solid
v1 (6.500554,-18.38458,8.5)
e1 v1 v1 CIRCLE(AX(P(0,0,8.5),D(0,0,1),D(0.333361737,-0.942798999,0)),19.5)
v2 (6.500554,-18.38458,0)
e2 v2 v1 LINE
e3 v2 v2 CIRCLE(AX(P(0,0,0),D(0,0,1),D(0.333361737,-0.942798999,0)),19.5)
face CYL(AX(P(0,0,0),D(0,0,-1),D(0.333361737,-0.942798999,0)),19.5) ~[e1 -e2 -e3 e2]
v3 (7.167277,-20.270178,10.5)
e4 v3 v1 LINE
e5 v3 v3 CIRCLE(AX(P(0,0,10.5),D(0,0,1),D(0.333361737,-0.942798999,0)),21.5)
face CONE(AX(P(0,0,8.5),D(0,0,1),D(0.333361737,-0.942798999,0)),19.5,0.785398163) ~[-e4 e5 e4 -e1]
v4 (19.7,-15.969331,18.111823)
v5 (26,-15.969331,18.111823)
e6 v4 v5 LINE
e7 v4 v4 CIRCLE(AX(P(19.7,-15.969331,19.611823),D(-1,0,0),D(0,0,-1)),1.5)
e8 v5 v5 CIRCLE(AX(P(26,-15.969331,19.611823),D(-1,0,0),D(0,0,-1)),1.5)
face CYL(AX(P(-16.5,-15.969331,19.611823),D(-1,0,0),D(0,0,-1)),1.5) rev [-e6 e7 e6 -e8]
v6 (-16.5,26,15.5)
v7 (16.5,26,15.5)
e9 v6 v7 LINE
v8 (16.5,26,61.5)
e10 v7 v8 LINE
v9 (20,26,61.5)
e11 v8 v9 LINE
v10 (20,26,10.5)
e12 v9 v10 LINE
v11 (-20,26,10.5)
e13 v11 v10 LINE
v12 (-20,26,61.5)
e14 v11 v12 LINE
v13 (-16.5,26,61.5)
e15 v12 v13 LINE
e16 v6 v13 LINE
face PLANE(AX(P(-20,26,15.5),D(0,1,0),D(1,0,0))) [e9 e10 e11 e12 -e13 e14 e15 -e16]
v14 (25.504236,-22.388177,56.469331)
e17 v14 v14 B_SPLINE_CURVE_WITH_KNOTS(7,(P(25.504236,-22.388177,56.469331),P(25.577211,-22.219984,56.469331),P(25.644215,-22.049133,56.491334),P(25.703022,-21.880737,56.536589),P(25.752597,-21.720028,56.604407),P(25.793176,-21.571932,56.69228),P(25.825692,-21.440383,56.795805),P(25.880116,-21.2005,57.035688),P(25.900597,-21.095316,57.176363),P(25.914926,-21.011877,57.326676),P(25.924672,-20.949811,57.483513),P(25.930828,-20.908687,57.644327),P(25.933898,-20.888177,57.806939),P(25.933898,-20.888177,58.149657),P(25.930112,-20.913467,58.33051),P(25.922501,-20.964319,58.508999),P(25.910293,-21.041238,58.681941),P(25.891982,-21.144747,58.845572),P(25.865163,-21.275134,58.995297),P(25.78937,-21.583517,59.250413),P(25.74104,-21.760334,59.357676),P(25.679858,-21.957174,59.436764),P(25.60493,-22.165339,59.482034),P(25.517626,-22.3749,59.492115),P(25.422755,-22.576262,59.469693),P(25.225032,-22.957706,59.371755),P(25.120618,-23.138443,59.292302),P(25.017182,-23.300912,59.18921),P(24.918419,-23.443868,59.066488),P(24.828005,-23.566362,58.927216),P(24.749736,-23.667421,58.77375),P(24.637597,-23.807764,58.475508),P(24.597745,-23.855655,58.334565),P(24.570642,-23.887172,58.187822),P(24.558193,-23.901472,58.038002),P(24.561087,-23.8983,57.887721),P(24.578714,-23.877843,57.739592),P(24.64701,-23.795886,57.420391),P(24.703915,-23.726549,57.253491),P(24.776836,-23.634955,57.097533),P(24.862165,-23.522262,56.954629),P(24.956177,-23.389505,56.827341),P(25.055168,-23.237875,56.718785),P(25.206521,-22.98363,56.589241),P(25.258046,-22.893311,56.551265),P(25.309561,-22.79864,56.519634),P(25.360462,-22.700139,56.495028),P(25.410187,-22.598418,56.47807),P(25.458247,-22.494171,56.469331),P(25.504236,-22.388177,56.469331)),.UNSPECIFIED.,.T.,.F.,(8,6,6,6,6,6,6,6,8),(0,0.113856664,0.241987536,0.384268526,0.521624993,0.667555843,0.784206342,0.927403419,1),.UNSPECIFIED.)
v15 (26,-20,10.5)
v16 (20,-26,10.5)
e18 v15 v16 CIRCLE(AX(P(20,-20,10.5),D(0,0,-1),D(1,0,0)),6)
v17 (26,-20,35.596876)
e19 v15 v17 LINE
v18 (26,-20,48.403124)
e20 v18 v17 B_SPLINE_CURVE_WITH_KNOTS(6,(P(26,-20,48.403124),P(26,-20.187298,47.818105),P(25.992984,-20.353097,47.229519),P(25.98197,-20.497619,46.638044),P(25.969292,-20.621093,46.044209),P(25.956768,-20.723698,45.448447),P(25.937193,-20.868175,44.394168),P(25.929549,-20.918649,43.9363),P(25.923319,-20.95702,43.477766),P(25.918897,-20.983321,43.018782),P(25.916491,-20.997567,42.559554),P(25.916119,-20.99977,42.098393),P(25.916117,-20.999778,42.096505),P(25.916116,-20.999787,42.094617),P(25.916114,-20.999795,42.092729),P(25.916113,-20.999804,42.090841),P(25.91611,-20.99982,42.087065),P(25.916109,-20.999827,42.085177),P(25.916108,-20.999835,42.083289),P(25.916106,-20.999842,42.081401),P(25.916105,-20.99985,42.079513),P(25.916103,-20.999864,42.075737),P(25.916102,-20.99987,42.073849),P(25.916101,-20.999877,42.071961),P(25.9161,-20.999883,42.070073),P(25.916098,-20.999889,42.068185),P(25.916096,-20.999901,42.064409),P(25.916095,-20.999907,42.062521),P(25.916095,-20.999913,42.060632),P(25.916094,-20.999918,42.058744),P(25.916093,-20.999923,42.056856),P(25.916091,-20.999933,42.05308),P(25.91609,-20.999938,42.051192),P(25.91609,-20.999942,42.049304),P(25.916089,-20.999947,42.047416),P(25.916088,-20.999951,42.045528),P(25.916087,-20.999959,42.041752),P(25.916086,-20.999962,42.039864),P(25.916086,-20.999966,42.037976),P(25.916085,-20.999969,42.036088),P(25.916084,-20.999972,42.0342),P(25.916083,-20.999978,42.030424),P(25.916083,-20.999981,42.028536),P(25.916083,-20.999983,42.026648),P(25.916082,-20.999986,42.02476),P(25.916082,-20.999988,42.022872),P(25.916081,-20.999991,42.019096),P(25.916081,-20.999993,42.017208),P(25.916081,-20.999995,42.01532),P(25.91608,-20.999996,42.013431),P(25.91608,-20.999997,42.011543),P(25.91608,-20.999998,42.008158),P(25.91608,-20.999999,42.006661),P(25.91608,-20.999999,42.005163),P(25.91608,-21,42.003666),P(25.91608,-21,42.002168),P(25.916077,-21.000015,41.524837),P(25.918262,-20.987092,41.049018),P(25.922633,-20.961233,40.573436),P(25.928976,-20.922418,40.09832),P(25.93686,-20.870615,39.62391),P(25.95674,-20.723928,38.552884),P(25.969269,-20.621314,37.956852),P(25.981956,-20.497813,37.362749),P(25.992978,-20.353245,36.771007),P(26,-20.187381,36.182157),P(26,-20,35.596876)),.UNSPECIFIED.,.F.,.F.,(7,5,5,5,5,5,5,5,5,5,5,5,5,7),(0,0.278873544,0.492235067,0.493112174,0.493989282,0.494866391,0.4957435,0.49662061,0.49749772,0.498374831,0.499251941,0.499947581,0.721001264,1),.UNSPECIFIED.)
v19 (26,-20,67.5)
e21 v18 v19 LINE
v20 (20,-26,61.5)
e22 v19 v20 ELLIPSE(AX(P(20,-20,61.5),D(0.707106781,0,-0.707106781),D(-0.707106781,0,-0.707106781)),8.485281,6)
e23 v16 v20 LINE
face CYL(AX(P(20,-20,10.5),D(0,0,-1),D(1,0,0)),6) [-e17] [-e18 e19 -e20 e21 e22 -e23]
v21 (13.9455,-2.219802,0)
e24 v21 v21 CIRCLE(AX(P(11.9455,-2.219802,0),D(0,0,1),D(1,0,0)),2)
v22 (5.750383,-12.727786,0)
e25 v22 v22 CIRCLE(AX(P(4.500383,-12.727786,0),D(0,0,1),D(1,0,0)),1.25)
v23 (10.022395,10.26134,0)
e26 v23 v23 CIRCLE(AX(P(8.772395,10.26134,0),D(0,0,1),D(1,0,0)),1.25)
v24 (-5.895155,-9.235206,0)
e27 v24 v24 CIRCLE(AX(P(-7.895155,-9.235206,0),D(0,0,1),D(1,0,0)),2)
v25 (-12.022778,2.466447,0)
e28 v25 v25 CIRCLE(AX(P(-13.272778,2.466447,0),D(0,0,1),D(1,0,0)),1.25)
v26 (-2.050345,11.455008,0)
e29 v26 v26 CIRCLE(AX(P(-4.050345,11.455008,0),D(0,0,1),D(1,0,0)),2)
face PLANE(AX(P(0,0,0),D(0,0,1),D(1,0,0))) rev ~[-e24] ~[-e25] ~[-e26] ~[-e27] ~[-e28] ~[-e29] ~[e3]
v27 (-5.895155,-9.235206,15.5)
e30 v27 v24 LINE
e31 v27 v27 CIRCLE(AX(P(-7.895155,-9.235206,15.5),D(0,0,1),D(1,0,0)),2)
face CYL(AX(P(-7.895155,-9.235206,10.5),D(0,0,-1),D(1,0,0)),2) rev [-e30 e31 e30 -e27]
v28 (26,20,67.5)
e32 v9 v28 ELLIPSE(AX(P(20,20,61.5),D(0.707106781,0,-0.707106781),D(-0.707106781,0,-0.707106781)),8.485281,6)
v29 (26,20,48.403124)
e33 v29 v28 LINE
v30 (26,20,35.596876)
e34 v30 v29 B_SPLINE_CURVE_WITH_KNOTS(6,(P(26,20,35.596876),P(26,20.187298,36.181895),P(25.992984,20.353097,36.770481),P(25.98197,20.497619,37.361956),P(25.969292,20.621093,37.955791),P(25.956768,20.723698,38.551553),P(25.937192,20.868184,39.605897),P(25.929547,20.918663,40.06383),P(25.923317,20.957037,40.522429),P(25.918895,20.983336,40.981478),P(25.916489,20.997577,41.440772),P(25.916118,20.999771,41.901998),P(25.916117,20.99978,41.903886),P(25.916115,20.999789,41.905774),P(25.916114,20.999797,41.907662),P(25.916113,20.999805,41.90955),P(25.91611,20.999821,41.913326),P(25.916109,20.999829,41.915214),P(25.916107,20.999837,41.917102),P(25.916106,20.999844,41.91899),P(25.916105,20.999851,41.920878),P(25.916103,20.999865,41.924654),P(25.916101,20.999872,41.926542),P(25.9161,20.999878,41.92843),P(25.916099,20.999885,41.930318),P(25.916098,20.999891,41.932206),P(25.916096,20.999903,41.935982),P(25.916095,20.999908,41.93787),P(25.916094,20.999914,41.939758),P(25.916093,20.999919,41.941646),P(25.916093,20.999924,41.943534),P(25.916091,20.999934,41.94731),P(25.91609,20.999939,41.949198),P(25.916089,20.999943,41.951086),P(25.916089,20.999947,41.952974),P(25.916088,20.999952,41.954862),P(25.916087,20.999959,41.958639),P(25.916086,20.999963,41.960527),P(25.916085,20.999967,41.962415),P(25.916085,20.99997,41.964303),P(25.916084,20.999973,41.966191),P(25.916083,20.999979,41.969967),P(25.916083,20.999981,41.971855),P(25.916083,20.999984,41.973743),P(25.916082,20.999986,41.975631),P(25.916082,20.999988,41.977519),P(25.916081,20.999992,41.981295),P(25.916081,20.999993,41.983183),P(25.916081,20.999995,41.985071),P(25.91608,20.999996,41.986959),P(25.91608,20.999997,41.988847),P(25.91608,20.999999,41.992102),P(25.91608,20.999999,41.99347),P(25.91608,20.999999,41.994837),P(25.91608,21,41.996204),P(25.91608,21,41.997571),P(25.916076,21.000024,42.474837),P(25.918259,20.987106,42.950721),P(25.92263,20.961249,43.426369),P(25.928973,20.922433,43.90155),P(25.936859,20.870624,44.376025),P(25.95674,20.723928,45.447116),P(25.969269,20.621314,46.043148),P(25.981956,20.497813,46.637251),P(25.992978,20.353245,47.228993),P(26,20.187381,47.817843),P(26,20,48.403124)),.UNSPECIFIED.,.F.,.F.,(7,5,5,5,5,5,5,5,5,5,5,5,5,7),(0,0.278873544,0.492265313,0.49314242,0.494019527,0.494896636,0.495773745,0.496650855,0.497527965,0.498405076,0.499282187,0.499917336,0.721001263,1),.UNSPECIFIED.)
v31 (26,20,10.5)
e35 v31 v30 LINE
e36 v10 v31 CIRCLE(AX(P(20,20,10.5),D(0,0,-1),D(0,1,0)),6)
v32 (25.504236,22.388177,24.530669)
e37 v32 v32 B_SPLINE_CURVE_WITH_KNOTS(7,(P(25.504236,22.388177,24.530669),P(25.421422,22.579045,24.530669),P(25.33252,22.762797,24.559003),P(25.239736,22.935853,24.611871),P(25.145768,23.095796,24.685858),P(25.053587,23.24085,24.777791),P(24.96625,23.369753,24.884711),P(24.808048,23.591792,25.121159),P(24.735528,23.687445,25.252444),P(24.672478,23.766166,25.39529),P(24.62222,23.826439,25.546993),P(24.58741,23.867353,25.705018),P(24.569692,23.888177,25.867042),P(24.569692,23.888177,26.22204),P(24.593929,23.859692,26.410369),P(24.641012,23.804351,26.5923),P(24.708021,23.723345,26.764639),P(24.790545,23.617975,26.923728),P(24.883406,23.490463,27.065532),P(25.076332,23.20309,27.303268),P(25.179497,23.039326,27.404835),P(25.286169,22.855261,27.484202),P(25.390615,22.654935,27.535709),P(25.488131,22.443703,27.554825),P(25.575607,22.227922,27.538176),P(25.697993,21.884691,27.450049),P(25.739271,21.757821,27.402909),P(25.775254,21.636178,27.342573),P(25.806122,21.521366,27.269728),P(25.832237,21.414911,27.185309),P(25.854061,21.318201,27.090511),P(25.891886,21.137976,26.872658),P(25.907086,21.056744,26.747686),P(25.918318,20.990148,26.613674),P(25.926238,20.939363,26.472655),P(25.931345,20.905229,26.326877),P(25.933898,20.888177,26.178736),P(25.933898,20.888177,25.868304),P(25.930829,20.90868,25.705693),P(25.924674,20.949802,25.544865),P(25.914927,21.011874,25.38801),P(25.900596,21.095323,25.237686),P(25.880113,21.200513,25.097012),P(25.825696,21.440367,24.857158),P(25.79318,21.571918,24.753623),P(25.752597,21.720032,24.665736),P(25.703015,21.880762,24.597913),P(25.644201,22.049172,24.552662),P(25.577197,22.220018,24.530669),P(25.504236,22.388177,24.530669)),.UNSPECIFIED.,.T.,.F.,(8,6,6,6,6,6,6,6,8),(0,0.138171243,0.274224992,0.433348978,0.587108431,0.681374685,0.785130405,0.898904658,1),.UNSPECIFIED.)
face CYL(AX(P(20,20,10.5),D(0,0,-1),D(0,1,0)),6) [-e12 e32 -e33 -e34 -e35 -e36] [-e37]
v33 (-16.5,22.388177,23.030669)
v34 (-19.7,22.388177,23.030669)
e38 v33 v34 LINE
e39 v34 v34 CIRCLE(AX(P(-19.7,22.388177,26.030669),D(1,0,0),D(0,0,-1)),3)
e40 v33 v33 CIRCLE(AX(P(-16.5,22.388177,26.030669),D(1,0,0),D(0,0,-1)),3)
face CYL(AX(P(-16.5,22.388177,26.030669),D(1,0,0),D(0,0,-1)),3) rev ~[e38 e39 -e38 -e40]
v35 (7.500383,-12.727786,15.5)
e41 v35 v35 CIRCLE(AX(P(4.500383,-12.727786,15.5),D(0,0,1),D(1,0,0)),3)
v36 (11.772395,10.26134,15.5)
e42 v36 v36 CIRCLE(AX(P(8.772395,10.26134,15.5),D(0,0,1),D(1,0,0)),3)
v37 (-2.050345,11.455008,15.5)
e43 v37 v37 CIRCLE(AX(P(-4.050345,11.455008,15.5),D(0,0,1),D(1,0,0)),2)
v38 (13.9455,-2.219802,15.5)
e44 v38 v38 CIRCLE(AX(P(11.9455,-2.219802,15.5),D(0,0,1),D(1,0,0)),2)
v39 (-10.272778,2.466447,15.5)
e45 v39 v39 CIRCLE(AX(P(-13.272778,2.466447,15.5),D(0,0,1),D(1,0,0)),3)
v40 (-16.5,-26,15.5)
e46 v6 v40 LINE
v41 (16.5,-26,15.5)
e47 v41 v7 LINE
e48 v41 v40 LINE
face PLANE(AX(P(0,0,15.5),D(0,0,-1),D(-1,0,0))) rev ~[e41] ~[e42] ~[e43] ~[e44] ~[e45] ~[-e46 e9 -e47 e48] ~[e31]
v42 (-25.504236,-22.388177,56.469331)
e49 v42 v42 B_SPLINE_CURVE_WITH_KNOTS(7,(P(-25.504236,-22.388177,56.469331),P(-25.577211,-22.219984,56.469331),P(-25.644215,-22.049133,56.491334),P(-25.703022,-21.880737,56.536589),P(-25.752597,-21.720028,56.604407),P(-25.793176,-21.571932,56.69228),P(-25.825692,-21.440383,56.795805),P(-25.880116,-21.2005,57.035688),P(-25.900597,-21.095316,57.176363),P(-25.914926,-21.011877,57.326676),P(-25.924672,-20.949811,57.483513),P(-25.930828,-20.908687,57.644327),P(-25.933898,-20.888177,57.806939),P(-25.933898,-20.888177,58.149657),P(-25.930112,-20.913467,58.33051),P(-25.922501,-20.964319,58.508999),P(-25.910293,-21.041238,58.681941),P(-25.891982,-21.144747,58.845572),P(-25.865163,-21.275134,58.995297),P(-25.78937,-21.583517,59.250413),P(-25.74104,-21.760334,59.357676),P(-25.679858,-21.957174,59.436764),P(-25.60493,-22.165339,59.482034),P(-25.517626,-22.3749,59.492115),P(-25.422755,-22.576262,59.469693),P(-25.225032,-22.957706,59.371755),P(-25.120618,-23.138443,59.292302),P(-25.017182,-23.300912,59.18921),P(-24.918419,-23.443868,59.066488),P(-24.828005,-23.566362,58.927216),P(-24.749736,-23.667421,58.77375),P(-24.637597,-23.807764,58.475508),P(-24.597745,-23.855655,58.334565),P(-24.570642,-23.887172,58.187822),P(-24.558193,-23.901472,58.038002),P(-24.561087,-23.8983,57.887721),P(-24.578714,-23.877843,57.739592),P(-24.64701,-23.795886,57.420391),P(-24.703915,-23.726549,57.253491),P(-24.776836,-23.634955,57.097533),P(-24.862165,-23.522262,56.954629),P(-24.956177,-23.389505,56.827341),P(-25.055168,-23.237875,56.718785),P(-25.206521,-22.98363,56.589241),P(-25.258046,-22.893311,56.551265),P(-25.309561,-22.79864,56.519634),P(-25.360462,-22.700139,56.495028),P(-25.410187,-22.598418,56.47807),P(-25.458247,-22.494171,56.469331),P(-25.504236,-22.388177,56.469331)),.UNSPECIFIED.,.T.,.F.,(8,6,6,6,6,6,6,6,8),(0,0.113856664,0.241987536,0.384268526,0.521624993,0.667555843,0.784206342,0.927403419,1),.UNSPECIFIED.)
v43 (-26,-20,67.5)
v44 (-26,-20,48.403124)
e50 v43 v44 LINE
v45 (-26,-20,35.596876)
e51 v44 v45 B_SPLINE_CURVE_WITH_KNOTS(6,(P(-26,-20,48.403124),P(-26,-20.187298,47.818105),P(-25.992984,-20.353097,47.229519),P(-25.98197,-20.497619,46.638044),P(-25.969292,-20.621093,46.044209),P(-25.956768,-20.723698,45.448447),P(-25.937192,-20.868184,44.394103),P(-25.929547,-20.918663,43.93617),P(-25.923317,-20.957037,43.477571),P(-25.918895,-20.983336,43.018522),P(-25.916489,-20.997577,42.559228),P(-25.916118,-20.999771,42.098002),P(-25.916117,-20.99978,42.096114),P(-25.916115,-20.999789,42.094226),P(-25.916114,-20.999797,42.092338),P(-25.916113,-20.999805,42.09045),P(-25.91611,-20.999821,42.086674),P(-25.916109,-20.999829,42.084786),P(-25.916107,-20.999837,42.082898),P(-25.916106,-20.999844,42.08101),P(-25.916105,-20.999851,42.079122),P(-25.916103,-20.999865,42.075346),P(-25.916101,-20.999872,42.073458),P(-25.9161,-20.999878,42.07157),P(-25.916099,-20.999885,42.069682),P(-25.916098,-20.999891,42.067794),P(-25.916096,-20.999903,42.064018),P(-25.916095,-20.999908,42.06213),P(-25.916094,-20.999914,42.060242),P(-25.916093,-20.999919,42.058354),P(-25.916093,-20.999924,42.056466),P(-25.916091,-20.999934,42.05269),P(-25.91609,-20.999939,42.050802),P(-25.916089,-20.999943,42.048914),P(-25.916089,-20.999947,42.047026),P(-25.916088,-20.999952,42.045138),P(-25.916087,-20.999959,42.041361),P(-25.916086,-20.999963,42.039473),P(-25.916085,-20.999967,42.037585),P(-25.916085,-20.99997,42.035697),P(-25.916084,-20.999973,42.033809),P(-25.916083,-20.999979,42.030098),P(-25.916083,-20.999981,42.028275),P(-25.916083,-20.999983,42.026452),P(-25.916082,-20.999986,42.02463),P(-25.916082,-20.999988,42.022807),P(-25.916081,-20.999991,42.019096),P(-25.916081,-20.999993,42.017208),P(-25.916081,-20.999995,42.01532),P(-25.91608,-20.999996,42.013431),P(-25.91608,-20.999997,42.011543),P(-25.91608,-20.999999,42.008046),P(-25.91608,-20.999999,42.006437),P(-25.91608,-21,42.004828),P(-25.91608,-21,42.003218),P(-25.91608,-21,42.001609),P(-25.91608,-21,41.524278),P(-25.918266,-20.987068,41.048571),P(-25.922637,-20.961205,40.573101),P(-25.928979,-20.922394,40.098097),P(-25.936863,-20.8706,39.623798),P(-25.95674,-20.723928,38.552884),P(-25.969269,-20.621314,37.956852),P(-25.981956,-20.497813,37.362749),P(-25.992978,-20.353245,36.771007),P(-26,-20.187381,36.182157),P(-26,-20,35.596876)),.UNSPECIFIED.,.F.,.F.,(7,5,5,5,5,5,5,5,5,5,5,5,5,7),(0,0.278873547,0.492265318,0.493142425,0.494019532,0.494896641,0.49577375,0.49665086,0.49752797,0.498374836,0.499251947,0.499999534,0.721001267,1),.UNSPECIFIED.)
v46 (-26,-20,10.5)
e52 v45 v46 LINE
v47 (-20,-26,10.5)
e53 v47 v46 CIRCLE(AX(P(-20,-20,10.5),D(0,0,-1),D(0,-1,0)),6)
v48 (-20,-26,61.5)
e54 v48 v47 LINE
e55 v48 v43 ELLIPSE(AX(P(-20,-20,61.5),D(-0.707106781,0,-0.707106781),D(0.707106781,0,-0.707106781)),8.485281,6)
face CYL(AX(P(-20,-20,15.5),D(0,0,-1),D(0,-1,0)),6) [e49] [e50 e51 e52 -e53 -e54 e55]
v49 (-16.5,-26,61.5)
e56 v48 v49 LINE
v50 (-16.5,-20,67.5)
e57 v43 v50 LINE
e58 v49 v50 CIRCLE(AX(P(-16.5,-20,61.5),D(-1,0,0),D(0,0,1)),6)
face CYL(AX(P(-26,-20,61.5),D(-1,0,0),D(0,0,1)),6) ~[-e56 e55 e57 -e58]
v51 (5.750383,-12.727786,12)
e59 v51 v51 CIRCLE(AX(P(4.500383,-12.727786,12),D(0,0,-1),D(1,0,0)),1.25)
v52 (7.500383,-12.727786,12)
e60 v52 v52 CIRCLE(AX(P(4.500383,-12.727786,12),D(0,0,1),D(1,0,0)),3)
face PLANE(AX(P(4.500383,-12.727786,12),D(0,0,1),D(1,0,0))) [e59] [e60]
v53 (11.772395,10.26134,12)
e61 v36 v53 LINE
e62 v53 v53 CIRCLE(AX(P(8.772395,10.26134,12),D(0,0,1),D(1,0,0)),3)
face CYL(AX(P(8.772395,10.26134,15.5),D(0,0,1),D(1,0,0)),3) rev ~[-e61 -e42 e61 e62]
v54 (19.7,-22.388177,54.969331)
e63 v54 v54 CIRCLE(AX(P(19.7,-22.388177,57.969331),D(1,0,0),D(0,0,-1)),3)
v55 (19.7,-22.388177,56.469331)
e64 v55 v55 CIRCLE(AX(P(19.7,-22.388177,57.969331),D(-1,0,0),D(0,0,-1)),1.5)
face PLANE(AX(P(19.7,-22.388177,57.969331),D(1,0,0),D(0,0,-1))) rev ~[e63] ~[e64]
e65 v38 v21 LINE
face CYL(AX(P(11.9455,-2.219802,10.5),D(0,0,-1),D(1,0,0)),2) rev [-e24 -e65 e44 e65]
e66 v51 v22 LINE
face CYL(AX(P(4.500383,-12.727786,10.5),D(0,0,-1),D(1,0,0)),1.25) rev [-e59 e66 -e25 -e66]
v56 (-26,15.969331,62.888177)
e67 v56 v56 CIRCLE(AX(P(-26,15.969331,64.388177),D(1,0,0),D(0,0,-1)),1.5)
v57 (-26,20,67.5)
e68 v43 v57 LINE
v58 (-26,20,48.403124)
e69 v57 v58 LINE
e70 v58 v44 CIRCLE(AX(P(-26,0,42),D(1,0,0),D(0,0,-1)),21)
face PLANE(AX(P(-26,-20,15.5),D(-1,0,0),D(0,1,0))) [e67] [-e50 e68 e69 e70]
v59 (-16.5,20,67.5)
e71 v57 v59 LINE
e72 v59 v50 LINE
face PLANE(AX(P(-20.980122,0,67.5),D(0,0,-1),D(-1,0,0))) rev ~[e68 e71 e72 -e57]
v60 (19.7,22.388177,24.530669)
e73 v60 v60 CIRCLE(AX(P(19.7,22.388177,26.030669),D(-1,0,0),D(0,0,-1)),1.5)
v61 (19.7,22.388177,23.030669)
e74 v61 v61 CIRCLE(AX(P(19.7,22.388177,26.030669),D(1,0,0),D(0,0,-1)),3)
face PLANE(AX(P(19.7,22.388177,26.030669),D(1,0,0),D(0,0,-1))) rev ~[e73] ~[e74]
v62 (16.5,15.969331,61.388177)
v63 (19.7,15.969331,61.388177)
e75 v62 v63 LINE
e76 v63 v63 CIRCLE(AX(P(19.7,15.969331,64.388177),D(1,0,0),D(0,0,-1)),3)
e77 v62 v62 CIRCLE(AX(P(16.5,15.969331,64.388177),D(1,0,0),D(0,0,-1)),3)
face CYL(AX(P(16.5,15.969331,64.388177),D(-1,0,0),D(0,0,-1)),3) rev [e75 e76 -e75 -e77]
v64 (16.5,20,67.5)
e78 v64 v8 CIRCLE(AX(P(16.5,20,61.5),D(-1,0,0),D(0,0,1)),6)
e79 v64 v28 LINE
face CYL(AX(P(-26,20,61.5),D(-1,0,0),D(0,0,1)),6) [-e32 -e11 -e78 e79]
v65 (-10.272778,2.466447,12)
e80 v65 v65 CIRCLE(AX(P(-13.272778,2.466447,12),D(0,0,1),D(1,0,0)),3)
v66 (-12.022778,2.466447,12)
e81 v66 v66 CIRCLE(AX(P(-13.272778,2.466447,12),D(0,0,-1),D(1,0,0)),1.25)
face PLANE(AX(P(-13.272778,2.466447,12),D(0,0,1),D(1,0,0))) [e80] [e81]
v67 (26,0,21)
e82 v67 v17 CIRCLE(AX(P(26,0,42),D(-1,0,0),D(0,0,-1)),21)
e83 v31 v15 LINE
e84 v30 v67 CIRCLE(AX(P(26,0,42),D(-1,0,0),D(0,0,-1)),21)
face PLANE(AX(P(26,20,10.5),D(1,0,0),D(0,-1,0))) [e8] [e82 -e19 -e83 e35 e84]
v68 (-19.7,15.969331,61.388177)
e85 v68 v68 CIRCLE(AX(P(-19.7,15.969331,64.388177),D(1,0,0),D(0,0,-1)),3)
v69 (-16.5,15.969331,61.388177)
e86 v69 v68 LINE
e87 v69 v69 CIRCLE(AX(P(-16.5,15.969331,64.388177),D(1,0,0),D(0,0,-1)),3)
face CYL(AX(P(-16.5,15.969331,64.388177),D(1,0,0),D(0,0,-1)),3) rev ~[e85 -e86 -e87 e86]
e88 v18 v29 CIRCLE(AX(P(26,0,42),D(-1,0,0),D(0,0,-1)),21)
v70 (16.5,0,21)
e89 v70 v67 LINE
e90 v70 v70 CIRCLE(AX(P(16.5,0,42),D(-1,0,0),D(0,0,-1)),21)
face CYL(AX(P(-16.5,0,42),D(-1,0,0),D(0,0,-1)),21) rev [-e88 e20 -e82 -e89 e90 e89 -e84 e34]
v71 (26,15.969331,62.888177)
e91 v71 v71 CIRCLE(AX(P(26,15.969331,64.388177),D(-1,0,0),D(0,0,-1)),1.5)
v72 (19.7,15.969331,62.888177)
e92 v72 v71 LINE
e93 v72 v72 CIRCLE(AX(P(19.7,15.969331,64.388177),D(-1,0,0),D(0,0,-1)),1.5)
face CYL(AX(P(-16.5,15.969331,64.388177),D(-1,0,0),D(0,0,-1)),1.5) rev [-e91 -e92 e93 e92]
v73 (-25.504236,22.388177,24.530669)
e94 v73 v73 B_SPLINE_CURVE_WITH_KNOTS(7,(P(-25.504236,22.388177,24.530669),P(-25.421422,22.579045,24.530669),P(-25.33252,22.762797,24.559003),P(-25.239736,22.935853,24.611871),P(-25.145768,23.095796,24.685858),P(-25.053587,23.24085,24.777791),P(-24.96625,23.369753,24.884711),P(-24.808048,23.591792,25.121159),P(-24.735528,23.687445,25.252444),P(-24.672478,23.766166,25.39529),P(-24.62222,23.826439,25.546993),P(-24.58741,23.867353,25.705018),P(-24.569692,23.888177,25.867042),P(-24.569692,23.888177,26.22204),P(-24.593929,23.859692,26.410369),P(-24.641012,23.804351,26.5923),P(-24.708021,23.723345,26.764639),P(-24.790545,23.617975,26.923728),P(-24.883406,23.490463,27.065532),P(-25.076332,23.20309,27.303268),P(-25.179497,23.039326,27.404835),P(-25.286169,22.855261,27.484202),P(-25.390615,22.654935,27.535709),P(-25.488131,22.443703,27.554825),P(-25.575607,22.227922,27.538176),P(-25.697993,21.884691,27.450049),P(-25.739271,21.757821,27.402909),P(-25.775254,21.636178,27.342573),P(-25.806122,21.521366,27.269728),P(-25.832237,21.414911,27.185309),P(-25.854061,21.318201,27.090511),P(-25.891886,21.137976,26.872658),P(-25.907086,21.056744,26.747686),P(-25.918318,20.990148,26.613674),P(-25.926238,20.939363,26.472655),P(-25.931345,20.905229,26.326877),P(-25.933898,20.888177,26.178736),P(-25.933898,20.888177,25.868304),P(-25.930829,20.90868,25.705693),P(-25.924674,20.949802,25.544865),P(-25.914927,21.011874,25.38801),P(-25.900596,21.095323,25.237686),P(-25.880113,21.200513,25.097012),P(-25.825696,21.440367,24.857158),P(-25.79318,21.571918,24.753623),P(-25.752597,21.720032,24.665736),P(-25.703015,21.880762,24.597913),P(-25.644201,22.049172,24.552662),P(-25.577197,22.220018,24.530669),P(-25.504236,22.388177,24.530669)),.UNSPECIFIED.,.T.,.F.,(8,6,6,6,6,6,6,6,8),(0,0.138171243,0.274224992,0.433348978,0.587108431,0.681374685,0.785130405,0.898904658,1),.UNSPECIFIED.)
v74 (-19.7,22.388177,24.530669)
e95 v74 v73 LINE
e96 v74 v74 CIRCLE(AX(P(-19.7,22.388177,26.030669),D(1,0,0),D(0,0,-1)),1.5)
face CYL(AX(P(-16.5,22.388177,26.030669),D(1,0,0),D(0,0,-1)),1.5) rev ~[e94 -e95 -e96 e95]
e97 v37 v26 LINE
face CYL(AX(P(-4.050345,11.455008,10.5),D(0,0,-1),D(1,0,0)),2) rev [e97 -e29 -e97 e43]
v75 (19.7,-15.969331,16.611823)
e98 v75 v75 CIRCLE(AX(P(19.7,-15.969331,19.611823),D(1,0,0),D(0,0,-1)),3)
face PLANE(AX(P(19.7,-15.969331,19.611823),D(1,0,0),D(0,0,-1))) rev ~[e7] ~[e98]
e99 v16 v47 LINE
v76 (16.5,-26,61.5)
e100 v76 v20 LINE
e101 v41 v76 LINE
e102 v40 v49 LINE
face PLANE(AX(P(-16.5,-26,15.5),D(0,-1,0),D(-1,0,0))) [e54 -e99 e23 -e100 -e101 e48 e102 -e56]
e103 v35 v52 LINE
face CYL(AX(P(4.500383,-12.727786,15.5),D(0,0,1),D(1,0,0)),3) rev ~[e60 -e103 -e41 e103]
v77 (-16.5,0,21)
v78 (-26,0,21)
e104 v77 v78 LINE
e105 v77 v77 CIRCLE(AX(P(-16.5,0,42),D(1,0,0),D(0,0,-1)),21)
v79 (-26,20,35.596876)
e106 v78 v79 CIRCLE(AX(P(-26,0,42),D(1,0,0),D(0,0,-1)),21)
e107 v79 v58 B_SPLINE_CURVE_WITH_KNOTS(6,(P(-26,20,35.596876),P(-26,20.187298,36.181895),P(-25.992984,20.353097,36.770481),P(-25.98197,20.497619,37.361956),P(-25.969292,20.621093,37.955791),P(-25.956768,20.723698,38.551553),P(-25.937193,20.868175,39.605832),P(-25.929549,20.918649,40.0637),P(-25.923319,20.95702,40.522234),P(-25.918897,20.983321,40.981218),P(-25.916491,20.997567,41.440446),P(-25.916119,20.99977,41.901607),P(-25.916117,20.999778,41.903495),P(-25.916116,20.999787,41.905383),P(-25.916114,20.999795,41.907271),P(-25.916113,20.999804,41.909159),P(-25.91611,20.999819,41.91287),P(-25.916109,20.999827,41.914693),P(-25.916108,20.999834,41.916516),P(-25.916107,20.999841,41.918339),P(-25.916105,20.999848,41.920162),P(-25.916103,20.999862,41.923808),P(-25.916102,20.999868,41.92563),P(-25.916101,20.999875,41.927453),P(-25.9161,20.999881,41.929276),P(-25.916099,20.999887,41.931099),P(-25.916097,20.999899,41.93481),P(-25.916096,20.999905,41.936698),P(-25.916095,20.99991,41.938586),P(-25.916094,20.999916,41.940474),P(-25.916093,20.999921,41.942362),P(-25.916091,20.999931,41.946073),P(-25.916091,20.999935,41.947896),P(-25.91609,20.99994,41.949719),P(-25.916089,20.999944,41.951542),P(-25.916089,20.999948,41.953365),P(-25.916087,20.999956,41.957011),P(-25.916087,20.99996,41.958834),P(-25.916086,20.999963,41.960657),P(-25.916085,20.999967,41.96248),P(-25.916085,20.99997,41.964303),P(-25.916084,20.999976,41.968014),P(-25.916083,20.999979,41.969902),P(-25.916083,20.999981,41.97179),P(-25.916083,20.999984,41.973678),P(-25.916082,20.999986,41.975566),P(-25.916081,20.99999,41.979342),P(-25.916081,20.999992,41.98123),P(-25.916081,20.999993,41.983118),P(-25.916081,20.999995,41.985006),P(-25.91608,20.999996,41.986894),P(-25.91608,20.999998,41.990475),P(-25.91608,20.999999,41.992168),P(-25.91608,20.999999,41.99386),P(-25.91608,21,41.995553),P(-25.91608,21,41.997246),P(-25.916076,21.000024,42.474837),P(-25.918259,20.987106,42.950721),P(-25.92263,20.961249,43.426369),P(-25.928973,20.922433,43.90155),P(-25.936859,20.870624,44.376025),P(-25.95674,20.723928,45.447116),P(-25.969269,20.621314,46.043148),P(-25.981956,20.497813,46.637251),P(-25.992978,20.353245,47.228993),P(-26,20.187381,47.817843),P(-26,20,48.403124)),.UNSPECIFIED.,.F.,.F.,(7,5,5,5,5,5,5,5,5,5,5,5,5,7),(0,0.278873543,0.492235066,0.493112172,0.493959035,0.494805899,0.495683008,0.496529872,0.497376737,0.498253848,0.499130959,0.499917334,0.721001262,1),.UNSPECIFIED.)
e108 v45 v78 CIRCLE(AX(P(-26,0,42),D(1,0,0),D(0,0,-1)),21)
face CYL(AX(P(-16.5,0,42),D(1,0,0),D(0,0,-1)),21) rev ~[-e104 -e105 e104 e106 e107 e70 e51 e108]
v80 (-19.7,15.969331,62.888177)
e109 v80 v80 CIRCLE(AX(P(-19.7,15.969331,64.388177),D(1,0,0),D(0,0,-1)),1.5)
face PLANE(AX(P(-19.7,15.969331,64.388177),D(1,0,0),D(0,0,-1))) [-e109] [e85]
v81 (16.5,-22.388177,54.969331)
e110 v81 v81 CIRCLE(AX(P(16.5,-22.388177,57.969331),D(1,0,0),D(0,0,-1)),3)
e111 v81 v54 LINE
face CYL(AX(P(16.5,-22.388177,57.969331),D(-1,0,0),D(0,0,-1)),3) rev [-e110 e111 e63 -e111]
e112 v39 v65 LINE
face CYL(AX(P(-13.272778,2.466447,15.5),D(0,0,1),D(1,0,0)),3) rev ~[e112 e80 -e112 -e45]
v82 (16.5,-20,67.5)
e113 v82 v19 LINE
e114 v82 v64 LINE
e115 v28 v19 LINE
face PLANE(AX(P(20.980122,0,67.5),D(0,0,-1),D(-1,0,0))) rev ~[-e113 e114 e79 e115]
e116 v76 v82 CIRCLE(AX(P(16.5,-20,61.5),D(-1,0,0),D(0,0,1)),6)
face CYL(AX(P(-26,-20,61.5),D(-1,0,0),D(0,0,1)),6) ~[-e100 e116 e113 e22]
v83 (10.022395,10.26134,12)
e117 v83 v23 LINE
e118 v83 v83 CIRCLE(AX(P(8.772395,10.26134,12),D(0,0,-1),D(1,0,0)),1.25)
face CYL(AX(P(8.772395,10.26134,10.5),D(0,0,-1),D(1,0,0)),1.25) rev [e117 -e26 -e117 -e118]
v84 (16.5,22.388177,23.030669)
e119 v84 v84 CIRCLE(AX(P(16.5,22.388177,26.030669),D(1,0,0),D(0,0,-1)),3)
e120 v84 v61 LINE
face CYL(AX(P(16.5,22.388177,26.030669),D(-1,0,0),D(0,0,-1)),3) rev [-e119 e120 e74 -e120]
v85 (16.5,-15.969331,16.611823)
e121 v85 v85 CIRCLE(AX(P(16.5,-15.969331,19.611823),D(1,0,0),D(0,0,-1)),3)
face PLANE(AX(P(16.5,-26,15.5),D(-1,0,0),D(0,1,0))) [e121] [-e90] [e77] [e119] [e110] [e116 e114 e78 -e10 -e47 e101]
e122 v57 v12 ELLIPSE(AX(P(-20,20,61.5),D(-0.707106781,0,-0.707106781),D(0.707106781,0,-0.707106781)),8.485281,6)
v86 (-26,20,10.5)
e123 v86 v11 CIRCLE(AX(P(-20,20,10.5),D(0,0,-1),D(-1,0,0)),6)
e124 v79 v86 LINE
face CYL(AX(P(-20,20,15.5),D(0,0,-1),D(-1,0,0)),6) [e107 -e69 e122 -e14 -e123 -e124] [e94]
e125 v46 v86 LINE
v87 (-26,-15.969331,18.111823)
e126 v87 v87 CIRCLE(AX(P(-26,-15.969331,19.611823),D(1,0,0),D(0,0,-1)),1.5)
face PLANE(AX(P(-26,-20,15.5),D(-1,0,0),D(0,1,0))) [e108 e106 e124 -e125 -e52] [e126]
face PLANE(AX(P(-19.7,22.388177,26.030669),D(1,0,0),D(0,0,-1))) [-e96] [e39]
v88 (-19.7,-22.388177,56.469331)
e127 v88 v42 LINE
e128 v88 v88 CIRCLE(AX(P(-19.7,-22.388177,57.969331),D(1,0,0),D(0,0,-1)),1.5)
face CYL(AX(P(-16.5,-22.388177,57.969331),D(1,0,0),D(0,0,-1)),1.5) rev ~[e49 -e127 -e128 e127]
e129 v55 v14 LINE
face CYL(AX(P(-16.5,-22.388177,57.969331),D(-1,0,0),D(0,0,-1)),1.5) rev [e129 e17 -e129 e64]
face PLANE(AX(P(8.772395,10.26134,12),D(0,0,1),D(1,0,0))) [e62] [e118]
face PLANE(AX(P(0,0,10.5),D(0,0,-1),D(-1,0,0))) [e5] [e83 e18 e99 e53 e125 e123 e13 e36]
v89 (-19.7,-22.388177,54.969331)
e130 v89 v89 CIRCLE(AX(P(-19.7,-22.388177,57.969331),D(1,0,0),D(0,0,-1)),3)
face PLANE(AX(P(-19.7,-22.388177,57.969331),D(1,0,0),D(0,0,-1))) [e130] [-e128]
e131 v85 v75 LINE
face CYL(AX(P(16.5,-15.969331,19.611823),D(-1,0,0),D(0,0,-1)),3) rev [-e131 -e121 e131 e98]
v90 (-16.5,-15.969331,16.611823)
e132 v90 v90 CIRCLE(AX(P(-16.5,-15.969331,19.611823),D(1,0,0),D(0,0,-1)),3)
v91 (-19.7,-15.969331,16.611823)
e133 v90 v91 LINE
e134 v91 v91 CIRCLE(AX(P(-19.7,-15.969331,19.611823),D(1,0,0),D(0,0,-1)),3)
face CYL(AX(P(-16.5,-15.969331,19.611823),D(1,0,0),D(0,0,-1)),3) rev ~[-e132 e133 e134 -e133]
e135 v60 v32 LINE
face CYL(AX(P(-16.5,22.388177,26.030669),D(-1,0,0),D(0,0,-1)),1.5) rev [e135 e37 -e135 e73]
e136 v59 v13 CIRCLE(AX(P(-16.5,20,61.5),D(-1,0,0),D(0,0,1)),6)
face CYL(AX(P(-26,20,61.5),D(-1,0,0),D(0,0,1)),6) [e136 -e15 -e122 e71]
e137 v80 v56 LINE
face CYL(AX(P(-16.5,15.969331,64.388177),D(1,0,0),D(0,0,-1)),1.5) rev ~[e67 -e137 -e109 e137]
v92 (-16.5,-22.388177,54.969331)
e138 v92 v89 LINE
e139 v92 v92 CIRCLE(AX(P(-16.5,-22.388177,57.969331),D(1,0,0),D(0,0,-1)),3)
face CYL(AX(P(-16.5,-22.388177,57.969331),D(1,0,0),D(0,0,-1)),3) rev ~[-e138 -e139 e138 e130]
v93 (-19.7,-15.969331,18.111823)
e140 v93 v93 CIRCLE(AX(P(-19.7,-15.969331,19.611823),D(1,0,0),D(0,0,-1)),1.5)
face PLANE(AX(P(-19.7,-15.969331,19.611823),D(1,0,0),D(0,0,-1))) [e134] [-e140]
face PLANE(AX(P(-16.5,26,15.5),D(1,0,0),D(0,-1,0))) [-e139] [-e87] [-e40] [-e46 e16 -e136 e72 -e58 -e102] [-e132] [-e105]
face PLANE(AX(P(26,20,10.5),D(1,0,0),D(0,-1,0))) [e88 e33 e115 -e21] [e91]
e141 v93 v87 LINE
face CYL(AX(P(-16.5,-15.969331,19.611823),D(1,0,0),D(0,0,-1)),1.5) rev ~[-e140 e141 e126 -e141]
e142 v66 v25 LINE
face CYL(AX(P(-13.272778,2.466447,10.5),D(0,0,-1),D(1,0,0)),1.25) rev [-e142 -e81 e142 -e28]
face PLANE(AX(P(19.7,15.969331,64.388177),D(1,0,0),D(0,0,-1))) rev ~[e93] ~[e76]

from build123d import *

# Parameters (mm, degrees)
SKETCH_1_R               = 2
SKETCH_1_R_2             = 1.25
EXTRUDE_1_DEPTH          = 10.5
SKETCH_2_R               = 1.25
SKETCH_2_R_2             = 2
EXTRUDE_2_DEPTH          = 5
SKETCH_3_R               = 3
CUT_EXTRUDE_1_DEPTH      = 3.5
CHAMFER_1_SIZE           = 2
EXTRUDE_3_DEPTH          = 52
CUT_EXTRUDE_2_DEPTH      = 1
CUT_EXTRUDE_2_DEPTH_BACK = 53
SKETCH_7_R               = 21
CUT_EXTRUDE_4_DEPTH      = 43.5
CUT_EXTRUDE_4_DEPTH_BACK = 10.5
SKETCH_8_R               = 1.5
CUT_EXTRUDE_5_DEPTH      = 43.5000001
CUT_EXTRUDE_5_DEPTH_BACK = 10.5000001
SKETCH_10_R              = 3
CUT_EXTRUDE_6_DEPTH      = 3.2
CUT_EXTRUDE_START        = 33
SKETCH_10_2_R            = 3
CUT_EXTRUDE_8_DEPTH      = 3.2


with BuildPart() as part:
    # 草图1 → 凸台-拉伸1 (new body)
    with BuildSketch(Plane.XY):
        with BuildLine():
            ThreePointArc((-6.500553872, 18.384580478), (-18.384580478, -6.500553872), (6.500553872, -18.384580478))
            ThreePointArc((6.500553872, -18.384580478), (18.384580478, 6.500553872), (-6.500553872, 18.384580478))
        make_face()
        with Locations((-4.050345105, 11.455007836)):
            Circle(SKETCH_1_R, mode=Mode.SUBTRACT)
        with Locations((8.772394705, 10.261339637)):
            Circle(SKETCH_1_R_2, mode=Mode.SUBTRACT)
        with Locations((11.945500339, -2.219802163)):
            Circle(SKETCH_1_R, mode=Mode.SUBTRACT)
        with Locations((4.50038345, -12.727786485)):
            Circle(SKETCH_1_R_2, mode=Mode.SUBTRACT)
        with Locations((-7.895155235, -9.235205673)):
            Circle(SKETCH_1_R, mode=Mode.SUBTRACT)
        with Locations((-13.272778155, 2.466446848)):
            Circle(SKETCH_1_R_2, mode=Mode.SUBTRACT)
    extrude(amount=EXTRUDE_1_DEPTH)

    # 草图2 → 凸台-拉伸2 (add)
    with BuildSketch(Plane.XY.offset(10.5)):
        with BuildLine():
            Line((20, -26), (-20, -26))
            ThreePointArc((-20, -26), (-24.242640687, -24.242640687), (-26, -20))
            Line((-26, -20), (-26, 20))
            ThreePointArc((-26, 20), (-24.242640687, 24.242640687), (-20, 26))
            Line((-20, 26), (20, 26))
            ThreePointArc((20, 26), (24.242640687, 24.242640687), (26, 20))
            Line((26, 20), (26, -20))
            ThreePointArc((26, -20), (24.242640687, -24.242640687), (20, -26))
        make_face()
        with Locations((4.50038345, -12.727786485)):
            Circle(SKETCH_2_R, mode=Mode.SUBTRACT)
        with Locations((-7.895155235, -9.235205673)):
            Circle(SKETCH_2_R_2, mode=Mode.SUBTRACT)
        with Locations((-13.272778155, 2.466446848)):
            Circle(SKETCH_2_R, mode=Mode.SUBTRACT)
        with Locations((-4.050345105, 11.455007836)):
            Circle(SKETCH_2_R_2, mode=Mode.SUBTRACT)
        with Locations((11.945500339, -2.219802163)):
            Circle(SKETCH_2_R_2, mode=Mode.SUBTRACT)
        with Locations((8.772394705, 10.261339637)):
            Circle(SKETCH_2_R, mode=Mode.SUBTRACT)
    extrude(amount=EXTRUDE_2_DEPTH)

    # 草图3 → 切除-拉伸1 (cut)
    with BuildSketch(Plane.XY.offset(15.5)):
        with Locations((4.50038345, -12.727786485)):
            Circle(SKETCH_3_R)
        with Locations((-13.272778155, 2.466446848)):
            Circle(SKETCH_3_R)
        with Locations((8.772394705, 10.261339637)):
            Circle(SKETCH_3_R)
    extrude(amount=-CUT_EXTRUDE_1_DEPTH, mode=Mode.SUBTRACT)

    # 倒角1
    chamfer_1_edges = [part.edges().sort_by_distance(p)[0] for p in [
        (6.500553872, -18.384580478, 10.5),
    ]]
    chamfer(chamfer_1_edges, length=CHAMFER_1_SIZE)

    # 草图4 → 凸台-拉伸3 (add)
    with BuildSketch(Plane.XY.offset(15.5)):
        with BuildLine():
            Line((-16.5, -26), (-20, -26))
            ThreePointArc((-20, -26), (-24.242640687, -24.242640687), (-26, -20))
            Line((-26, -20), (-26, 20))
            ThreePointArc((-26, 20), (-24.242640687, 24.242640687), (-20, 26))
            Line((-20, 26), (-16.5, 26))
            Line((-16.5, 26), (-16.5, -26))
        make_face()
        with BuildLine():
            Line((16.5, 26), (20, 26))
            ThreePointArc((20, 26), (24.242640687, 24.242640687), (26, 20))
            Line((26, 20), (26, -20))
            ThreePointArc((26, -20), (24.242640687, -24.242640687), (20, -26))
            Line((20, -26), (16.5, -26))
            Line((16.5, -26), (16.5, 26))
        make_face()
    extrude(amount=EXTRUDE_3_DEPTH)

    # 草图5 → 切除-拉伸2 (cut, two sides)
    with BuildSketch(Plane.ZY.offset(26)) as cut_extrude_2_sk:
        with BuildLine():
            Line((61.5, -26), (67.5, -26))
            Line((67.5, -26), (67.5, -20))
            ThreePointArc((67.5, -20), (65.742640687, -24.242640687), (61.5, -26))
        make_face()
        with BuildLine():
            Line((61.5, 26), (67.5, 26))
            Line((67.5, 26), (67.5, 20))
            ThreePointArc((67.5, 20), (65.742640687, 24.242640687), (61.5, 26))
        make_face()
    extrude(amount=CUT_EXTRUDE_2_DEPTH, mode=Mode.SUBTRACT)
    extrude(cut_extrude_2_sk.sketch, amount=-CUT_EXTRUDE_2_DEPTH_BACK, mode=Mode.SUBTRACT)

    # 草图7 → 切除-拉伸4 (cut, two sides)
    with BuildSketch(Plane(origin=(-16.5, 0, 0), x_dir=(0, 0, -1), z_dir=(1, 0, 0))) as cut_extrude_4_sk:
        with Locations((-42, 0)):
            Circle(SKETCH_7_R)
    extrude(amount=CUT_EXTRUDE_4_DEPTH, mode=Mode.SUBTRACT)
    extrude(cut_extrude_4_sk.sketch, amount=-CUT_EXTRUDE_4_DEPTH_BACK, mode=Mode.SUBTRACT)

    # 草图8 → 切除-拉伸5 (cut, two sides)
    with BuildSketch(Plane(origin=(-16.5, 0, 0), x_dir=(0, 0, -1), z_dir=(1, 0, 0))) as cut_extrude_5_sk:
        with Locations((-57.969331475, -22.388176617)):
            Circle(SKETCH_8_R)
        with Locations((-19.611823383, -15.969331475)):
            Circle(SKETCH_8_R)
        with Locations((-26.030668525, 22.388176617)):
            Circle(SKETCH_8_R)
        with Locations((-64.388176617, 15.969331475)):
            Circle(SKETCH_8_R)
    extrude(amount=CUT_EXTRUDE_5_DEPTH, mode=Mode.SUBTRACT)
    extrude(cut_extrude_5_sk.sketch, amount=-CUT_EXTRUDE_5_DEPTH_BACK, mode=Mode.SUBTRACT)

    # 草图10 → 切除-拉伸6 (cut)
    with BuildSketch(Plane(origin=(-16.5, 0, 0), x_dir=(0, 0, -1), z_dir=(1, 0, 0))):
        with Locations((-64.388176617, 15.969331475)):
            Circle(SKETCH_10_R)
        with Locations((-26.030668525, 22.388176617)):
            Circle(SKETCH_10_R)
        with Locations((-19.611823383, -15.969331475)):
            Circle(SKETCH_10_R)
        with Locations((-57.969331475, -22.388176617)):
            Circle(SKETCH_10_R)
    extrude(amount=-CUT_EXTRUDE_6_DEPTH, mode=Mode.SUBTRACT)

    # 草图10<2> → 切除-拉伸8 (cut)
    with BuildSketch(Plane(origin=(-16.5, 0, 0), x_dir=(0, 0, -1), z_dir=(1, 0, 0)).offset(CUT_EXTRUDE_START)):
        with Locations((-64.388176617, 15.969331475)):
            Circle(SKETCH_10_2_R)
        with Locations((-26.030668525, 22.388176617)):
            Circle(SKETCH_10_2_R)
        with Locations((-19.611823383, -15.969331475)):
            Circle(SKETCH_10_2_R)
        with Locations((-57.969331475, -22.388176617)):
            Circle(SKETCH_10_2_R)
    extrude(amount=CUT_EXTRUDE_8_DEPTH, mode=Mode.SUBTRACT)


solid = part.part
